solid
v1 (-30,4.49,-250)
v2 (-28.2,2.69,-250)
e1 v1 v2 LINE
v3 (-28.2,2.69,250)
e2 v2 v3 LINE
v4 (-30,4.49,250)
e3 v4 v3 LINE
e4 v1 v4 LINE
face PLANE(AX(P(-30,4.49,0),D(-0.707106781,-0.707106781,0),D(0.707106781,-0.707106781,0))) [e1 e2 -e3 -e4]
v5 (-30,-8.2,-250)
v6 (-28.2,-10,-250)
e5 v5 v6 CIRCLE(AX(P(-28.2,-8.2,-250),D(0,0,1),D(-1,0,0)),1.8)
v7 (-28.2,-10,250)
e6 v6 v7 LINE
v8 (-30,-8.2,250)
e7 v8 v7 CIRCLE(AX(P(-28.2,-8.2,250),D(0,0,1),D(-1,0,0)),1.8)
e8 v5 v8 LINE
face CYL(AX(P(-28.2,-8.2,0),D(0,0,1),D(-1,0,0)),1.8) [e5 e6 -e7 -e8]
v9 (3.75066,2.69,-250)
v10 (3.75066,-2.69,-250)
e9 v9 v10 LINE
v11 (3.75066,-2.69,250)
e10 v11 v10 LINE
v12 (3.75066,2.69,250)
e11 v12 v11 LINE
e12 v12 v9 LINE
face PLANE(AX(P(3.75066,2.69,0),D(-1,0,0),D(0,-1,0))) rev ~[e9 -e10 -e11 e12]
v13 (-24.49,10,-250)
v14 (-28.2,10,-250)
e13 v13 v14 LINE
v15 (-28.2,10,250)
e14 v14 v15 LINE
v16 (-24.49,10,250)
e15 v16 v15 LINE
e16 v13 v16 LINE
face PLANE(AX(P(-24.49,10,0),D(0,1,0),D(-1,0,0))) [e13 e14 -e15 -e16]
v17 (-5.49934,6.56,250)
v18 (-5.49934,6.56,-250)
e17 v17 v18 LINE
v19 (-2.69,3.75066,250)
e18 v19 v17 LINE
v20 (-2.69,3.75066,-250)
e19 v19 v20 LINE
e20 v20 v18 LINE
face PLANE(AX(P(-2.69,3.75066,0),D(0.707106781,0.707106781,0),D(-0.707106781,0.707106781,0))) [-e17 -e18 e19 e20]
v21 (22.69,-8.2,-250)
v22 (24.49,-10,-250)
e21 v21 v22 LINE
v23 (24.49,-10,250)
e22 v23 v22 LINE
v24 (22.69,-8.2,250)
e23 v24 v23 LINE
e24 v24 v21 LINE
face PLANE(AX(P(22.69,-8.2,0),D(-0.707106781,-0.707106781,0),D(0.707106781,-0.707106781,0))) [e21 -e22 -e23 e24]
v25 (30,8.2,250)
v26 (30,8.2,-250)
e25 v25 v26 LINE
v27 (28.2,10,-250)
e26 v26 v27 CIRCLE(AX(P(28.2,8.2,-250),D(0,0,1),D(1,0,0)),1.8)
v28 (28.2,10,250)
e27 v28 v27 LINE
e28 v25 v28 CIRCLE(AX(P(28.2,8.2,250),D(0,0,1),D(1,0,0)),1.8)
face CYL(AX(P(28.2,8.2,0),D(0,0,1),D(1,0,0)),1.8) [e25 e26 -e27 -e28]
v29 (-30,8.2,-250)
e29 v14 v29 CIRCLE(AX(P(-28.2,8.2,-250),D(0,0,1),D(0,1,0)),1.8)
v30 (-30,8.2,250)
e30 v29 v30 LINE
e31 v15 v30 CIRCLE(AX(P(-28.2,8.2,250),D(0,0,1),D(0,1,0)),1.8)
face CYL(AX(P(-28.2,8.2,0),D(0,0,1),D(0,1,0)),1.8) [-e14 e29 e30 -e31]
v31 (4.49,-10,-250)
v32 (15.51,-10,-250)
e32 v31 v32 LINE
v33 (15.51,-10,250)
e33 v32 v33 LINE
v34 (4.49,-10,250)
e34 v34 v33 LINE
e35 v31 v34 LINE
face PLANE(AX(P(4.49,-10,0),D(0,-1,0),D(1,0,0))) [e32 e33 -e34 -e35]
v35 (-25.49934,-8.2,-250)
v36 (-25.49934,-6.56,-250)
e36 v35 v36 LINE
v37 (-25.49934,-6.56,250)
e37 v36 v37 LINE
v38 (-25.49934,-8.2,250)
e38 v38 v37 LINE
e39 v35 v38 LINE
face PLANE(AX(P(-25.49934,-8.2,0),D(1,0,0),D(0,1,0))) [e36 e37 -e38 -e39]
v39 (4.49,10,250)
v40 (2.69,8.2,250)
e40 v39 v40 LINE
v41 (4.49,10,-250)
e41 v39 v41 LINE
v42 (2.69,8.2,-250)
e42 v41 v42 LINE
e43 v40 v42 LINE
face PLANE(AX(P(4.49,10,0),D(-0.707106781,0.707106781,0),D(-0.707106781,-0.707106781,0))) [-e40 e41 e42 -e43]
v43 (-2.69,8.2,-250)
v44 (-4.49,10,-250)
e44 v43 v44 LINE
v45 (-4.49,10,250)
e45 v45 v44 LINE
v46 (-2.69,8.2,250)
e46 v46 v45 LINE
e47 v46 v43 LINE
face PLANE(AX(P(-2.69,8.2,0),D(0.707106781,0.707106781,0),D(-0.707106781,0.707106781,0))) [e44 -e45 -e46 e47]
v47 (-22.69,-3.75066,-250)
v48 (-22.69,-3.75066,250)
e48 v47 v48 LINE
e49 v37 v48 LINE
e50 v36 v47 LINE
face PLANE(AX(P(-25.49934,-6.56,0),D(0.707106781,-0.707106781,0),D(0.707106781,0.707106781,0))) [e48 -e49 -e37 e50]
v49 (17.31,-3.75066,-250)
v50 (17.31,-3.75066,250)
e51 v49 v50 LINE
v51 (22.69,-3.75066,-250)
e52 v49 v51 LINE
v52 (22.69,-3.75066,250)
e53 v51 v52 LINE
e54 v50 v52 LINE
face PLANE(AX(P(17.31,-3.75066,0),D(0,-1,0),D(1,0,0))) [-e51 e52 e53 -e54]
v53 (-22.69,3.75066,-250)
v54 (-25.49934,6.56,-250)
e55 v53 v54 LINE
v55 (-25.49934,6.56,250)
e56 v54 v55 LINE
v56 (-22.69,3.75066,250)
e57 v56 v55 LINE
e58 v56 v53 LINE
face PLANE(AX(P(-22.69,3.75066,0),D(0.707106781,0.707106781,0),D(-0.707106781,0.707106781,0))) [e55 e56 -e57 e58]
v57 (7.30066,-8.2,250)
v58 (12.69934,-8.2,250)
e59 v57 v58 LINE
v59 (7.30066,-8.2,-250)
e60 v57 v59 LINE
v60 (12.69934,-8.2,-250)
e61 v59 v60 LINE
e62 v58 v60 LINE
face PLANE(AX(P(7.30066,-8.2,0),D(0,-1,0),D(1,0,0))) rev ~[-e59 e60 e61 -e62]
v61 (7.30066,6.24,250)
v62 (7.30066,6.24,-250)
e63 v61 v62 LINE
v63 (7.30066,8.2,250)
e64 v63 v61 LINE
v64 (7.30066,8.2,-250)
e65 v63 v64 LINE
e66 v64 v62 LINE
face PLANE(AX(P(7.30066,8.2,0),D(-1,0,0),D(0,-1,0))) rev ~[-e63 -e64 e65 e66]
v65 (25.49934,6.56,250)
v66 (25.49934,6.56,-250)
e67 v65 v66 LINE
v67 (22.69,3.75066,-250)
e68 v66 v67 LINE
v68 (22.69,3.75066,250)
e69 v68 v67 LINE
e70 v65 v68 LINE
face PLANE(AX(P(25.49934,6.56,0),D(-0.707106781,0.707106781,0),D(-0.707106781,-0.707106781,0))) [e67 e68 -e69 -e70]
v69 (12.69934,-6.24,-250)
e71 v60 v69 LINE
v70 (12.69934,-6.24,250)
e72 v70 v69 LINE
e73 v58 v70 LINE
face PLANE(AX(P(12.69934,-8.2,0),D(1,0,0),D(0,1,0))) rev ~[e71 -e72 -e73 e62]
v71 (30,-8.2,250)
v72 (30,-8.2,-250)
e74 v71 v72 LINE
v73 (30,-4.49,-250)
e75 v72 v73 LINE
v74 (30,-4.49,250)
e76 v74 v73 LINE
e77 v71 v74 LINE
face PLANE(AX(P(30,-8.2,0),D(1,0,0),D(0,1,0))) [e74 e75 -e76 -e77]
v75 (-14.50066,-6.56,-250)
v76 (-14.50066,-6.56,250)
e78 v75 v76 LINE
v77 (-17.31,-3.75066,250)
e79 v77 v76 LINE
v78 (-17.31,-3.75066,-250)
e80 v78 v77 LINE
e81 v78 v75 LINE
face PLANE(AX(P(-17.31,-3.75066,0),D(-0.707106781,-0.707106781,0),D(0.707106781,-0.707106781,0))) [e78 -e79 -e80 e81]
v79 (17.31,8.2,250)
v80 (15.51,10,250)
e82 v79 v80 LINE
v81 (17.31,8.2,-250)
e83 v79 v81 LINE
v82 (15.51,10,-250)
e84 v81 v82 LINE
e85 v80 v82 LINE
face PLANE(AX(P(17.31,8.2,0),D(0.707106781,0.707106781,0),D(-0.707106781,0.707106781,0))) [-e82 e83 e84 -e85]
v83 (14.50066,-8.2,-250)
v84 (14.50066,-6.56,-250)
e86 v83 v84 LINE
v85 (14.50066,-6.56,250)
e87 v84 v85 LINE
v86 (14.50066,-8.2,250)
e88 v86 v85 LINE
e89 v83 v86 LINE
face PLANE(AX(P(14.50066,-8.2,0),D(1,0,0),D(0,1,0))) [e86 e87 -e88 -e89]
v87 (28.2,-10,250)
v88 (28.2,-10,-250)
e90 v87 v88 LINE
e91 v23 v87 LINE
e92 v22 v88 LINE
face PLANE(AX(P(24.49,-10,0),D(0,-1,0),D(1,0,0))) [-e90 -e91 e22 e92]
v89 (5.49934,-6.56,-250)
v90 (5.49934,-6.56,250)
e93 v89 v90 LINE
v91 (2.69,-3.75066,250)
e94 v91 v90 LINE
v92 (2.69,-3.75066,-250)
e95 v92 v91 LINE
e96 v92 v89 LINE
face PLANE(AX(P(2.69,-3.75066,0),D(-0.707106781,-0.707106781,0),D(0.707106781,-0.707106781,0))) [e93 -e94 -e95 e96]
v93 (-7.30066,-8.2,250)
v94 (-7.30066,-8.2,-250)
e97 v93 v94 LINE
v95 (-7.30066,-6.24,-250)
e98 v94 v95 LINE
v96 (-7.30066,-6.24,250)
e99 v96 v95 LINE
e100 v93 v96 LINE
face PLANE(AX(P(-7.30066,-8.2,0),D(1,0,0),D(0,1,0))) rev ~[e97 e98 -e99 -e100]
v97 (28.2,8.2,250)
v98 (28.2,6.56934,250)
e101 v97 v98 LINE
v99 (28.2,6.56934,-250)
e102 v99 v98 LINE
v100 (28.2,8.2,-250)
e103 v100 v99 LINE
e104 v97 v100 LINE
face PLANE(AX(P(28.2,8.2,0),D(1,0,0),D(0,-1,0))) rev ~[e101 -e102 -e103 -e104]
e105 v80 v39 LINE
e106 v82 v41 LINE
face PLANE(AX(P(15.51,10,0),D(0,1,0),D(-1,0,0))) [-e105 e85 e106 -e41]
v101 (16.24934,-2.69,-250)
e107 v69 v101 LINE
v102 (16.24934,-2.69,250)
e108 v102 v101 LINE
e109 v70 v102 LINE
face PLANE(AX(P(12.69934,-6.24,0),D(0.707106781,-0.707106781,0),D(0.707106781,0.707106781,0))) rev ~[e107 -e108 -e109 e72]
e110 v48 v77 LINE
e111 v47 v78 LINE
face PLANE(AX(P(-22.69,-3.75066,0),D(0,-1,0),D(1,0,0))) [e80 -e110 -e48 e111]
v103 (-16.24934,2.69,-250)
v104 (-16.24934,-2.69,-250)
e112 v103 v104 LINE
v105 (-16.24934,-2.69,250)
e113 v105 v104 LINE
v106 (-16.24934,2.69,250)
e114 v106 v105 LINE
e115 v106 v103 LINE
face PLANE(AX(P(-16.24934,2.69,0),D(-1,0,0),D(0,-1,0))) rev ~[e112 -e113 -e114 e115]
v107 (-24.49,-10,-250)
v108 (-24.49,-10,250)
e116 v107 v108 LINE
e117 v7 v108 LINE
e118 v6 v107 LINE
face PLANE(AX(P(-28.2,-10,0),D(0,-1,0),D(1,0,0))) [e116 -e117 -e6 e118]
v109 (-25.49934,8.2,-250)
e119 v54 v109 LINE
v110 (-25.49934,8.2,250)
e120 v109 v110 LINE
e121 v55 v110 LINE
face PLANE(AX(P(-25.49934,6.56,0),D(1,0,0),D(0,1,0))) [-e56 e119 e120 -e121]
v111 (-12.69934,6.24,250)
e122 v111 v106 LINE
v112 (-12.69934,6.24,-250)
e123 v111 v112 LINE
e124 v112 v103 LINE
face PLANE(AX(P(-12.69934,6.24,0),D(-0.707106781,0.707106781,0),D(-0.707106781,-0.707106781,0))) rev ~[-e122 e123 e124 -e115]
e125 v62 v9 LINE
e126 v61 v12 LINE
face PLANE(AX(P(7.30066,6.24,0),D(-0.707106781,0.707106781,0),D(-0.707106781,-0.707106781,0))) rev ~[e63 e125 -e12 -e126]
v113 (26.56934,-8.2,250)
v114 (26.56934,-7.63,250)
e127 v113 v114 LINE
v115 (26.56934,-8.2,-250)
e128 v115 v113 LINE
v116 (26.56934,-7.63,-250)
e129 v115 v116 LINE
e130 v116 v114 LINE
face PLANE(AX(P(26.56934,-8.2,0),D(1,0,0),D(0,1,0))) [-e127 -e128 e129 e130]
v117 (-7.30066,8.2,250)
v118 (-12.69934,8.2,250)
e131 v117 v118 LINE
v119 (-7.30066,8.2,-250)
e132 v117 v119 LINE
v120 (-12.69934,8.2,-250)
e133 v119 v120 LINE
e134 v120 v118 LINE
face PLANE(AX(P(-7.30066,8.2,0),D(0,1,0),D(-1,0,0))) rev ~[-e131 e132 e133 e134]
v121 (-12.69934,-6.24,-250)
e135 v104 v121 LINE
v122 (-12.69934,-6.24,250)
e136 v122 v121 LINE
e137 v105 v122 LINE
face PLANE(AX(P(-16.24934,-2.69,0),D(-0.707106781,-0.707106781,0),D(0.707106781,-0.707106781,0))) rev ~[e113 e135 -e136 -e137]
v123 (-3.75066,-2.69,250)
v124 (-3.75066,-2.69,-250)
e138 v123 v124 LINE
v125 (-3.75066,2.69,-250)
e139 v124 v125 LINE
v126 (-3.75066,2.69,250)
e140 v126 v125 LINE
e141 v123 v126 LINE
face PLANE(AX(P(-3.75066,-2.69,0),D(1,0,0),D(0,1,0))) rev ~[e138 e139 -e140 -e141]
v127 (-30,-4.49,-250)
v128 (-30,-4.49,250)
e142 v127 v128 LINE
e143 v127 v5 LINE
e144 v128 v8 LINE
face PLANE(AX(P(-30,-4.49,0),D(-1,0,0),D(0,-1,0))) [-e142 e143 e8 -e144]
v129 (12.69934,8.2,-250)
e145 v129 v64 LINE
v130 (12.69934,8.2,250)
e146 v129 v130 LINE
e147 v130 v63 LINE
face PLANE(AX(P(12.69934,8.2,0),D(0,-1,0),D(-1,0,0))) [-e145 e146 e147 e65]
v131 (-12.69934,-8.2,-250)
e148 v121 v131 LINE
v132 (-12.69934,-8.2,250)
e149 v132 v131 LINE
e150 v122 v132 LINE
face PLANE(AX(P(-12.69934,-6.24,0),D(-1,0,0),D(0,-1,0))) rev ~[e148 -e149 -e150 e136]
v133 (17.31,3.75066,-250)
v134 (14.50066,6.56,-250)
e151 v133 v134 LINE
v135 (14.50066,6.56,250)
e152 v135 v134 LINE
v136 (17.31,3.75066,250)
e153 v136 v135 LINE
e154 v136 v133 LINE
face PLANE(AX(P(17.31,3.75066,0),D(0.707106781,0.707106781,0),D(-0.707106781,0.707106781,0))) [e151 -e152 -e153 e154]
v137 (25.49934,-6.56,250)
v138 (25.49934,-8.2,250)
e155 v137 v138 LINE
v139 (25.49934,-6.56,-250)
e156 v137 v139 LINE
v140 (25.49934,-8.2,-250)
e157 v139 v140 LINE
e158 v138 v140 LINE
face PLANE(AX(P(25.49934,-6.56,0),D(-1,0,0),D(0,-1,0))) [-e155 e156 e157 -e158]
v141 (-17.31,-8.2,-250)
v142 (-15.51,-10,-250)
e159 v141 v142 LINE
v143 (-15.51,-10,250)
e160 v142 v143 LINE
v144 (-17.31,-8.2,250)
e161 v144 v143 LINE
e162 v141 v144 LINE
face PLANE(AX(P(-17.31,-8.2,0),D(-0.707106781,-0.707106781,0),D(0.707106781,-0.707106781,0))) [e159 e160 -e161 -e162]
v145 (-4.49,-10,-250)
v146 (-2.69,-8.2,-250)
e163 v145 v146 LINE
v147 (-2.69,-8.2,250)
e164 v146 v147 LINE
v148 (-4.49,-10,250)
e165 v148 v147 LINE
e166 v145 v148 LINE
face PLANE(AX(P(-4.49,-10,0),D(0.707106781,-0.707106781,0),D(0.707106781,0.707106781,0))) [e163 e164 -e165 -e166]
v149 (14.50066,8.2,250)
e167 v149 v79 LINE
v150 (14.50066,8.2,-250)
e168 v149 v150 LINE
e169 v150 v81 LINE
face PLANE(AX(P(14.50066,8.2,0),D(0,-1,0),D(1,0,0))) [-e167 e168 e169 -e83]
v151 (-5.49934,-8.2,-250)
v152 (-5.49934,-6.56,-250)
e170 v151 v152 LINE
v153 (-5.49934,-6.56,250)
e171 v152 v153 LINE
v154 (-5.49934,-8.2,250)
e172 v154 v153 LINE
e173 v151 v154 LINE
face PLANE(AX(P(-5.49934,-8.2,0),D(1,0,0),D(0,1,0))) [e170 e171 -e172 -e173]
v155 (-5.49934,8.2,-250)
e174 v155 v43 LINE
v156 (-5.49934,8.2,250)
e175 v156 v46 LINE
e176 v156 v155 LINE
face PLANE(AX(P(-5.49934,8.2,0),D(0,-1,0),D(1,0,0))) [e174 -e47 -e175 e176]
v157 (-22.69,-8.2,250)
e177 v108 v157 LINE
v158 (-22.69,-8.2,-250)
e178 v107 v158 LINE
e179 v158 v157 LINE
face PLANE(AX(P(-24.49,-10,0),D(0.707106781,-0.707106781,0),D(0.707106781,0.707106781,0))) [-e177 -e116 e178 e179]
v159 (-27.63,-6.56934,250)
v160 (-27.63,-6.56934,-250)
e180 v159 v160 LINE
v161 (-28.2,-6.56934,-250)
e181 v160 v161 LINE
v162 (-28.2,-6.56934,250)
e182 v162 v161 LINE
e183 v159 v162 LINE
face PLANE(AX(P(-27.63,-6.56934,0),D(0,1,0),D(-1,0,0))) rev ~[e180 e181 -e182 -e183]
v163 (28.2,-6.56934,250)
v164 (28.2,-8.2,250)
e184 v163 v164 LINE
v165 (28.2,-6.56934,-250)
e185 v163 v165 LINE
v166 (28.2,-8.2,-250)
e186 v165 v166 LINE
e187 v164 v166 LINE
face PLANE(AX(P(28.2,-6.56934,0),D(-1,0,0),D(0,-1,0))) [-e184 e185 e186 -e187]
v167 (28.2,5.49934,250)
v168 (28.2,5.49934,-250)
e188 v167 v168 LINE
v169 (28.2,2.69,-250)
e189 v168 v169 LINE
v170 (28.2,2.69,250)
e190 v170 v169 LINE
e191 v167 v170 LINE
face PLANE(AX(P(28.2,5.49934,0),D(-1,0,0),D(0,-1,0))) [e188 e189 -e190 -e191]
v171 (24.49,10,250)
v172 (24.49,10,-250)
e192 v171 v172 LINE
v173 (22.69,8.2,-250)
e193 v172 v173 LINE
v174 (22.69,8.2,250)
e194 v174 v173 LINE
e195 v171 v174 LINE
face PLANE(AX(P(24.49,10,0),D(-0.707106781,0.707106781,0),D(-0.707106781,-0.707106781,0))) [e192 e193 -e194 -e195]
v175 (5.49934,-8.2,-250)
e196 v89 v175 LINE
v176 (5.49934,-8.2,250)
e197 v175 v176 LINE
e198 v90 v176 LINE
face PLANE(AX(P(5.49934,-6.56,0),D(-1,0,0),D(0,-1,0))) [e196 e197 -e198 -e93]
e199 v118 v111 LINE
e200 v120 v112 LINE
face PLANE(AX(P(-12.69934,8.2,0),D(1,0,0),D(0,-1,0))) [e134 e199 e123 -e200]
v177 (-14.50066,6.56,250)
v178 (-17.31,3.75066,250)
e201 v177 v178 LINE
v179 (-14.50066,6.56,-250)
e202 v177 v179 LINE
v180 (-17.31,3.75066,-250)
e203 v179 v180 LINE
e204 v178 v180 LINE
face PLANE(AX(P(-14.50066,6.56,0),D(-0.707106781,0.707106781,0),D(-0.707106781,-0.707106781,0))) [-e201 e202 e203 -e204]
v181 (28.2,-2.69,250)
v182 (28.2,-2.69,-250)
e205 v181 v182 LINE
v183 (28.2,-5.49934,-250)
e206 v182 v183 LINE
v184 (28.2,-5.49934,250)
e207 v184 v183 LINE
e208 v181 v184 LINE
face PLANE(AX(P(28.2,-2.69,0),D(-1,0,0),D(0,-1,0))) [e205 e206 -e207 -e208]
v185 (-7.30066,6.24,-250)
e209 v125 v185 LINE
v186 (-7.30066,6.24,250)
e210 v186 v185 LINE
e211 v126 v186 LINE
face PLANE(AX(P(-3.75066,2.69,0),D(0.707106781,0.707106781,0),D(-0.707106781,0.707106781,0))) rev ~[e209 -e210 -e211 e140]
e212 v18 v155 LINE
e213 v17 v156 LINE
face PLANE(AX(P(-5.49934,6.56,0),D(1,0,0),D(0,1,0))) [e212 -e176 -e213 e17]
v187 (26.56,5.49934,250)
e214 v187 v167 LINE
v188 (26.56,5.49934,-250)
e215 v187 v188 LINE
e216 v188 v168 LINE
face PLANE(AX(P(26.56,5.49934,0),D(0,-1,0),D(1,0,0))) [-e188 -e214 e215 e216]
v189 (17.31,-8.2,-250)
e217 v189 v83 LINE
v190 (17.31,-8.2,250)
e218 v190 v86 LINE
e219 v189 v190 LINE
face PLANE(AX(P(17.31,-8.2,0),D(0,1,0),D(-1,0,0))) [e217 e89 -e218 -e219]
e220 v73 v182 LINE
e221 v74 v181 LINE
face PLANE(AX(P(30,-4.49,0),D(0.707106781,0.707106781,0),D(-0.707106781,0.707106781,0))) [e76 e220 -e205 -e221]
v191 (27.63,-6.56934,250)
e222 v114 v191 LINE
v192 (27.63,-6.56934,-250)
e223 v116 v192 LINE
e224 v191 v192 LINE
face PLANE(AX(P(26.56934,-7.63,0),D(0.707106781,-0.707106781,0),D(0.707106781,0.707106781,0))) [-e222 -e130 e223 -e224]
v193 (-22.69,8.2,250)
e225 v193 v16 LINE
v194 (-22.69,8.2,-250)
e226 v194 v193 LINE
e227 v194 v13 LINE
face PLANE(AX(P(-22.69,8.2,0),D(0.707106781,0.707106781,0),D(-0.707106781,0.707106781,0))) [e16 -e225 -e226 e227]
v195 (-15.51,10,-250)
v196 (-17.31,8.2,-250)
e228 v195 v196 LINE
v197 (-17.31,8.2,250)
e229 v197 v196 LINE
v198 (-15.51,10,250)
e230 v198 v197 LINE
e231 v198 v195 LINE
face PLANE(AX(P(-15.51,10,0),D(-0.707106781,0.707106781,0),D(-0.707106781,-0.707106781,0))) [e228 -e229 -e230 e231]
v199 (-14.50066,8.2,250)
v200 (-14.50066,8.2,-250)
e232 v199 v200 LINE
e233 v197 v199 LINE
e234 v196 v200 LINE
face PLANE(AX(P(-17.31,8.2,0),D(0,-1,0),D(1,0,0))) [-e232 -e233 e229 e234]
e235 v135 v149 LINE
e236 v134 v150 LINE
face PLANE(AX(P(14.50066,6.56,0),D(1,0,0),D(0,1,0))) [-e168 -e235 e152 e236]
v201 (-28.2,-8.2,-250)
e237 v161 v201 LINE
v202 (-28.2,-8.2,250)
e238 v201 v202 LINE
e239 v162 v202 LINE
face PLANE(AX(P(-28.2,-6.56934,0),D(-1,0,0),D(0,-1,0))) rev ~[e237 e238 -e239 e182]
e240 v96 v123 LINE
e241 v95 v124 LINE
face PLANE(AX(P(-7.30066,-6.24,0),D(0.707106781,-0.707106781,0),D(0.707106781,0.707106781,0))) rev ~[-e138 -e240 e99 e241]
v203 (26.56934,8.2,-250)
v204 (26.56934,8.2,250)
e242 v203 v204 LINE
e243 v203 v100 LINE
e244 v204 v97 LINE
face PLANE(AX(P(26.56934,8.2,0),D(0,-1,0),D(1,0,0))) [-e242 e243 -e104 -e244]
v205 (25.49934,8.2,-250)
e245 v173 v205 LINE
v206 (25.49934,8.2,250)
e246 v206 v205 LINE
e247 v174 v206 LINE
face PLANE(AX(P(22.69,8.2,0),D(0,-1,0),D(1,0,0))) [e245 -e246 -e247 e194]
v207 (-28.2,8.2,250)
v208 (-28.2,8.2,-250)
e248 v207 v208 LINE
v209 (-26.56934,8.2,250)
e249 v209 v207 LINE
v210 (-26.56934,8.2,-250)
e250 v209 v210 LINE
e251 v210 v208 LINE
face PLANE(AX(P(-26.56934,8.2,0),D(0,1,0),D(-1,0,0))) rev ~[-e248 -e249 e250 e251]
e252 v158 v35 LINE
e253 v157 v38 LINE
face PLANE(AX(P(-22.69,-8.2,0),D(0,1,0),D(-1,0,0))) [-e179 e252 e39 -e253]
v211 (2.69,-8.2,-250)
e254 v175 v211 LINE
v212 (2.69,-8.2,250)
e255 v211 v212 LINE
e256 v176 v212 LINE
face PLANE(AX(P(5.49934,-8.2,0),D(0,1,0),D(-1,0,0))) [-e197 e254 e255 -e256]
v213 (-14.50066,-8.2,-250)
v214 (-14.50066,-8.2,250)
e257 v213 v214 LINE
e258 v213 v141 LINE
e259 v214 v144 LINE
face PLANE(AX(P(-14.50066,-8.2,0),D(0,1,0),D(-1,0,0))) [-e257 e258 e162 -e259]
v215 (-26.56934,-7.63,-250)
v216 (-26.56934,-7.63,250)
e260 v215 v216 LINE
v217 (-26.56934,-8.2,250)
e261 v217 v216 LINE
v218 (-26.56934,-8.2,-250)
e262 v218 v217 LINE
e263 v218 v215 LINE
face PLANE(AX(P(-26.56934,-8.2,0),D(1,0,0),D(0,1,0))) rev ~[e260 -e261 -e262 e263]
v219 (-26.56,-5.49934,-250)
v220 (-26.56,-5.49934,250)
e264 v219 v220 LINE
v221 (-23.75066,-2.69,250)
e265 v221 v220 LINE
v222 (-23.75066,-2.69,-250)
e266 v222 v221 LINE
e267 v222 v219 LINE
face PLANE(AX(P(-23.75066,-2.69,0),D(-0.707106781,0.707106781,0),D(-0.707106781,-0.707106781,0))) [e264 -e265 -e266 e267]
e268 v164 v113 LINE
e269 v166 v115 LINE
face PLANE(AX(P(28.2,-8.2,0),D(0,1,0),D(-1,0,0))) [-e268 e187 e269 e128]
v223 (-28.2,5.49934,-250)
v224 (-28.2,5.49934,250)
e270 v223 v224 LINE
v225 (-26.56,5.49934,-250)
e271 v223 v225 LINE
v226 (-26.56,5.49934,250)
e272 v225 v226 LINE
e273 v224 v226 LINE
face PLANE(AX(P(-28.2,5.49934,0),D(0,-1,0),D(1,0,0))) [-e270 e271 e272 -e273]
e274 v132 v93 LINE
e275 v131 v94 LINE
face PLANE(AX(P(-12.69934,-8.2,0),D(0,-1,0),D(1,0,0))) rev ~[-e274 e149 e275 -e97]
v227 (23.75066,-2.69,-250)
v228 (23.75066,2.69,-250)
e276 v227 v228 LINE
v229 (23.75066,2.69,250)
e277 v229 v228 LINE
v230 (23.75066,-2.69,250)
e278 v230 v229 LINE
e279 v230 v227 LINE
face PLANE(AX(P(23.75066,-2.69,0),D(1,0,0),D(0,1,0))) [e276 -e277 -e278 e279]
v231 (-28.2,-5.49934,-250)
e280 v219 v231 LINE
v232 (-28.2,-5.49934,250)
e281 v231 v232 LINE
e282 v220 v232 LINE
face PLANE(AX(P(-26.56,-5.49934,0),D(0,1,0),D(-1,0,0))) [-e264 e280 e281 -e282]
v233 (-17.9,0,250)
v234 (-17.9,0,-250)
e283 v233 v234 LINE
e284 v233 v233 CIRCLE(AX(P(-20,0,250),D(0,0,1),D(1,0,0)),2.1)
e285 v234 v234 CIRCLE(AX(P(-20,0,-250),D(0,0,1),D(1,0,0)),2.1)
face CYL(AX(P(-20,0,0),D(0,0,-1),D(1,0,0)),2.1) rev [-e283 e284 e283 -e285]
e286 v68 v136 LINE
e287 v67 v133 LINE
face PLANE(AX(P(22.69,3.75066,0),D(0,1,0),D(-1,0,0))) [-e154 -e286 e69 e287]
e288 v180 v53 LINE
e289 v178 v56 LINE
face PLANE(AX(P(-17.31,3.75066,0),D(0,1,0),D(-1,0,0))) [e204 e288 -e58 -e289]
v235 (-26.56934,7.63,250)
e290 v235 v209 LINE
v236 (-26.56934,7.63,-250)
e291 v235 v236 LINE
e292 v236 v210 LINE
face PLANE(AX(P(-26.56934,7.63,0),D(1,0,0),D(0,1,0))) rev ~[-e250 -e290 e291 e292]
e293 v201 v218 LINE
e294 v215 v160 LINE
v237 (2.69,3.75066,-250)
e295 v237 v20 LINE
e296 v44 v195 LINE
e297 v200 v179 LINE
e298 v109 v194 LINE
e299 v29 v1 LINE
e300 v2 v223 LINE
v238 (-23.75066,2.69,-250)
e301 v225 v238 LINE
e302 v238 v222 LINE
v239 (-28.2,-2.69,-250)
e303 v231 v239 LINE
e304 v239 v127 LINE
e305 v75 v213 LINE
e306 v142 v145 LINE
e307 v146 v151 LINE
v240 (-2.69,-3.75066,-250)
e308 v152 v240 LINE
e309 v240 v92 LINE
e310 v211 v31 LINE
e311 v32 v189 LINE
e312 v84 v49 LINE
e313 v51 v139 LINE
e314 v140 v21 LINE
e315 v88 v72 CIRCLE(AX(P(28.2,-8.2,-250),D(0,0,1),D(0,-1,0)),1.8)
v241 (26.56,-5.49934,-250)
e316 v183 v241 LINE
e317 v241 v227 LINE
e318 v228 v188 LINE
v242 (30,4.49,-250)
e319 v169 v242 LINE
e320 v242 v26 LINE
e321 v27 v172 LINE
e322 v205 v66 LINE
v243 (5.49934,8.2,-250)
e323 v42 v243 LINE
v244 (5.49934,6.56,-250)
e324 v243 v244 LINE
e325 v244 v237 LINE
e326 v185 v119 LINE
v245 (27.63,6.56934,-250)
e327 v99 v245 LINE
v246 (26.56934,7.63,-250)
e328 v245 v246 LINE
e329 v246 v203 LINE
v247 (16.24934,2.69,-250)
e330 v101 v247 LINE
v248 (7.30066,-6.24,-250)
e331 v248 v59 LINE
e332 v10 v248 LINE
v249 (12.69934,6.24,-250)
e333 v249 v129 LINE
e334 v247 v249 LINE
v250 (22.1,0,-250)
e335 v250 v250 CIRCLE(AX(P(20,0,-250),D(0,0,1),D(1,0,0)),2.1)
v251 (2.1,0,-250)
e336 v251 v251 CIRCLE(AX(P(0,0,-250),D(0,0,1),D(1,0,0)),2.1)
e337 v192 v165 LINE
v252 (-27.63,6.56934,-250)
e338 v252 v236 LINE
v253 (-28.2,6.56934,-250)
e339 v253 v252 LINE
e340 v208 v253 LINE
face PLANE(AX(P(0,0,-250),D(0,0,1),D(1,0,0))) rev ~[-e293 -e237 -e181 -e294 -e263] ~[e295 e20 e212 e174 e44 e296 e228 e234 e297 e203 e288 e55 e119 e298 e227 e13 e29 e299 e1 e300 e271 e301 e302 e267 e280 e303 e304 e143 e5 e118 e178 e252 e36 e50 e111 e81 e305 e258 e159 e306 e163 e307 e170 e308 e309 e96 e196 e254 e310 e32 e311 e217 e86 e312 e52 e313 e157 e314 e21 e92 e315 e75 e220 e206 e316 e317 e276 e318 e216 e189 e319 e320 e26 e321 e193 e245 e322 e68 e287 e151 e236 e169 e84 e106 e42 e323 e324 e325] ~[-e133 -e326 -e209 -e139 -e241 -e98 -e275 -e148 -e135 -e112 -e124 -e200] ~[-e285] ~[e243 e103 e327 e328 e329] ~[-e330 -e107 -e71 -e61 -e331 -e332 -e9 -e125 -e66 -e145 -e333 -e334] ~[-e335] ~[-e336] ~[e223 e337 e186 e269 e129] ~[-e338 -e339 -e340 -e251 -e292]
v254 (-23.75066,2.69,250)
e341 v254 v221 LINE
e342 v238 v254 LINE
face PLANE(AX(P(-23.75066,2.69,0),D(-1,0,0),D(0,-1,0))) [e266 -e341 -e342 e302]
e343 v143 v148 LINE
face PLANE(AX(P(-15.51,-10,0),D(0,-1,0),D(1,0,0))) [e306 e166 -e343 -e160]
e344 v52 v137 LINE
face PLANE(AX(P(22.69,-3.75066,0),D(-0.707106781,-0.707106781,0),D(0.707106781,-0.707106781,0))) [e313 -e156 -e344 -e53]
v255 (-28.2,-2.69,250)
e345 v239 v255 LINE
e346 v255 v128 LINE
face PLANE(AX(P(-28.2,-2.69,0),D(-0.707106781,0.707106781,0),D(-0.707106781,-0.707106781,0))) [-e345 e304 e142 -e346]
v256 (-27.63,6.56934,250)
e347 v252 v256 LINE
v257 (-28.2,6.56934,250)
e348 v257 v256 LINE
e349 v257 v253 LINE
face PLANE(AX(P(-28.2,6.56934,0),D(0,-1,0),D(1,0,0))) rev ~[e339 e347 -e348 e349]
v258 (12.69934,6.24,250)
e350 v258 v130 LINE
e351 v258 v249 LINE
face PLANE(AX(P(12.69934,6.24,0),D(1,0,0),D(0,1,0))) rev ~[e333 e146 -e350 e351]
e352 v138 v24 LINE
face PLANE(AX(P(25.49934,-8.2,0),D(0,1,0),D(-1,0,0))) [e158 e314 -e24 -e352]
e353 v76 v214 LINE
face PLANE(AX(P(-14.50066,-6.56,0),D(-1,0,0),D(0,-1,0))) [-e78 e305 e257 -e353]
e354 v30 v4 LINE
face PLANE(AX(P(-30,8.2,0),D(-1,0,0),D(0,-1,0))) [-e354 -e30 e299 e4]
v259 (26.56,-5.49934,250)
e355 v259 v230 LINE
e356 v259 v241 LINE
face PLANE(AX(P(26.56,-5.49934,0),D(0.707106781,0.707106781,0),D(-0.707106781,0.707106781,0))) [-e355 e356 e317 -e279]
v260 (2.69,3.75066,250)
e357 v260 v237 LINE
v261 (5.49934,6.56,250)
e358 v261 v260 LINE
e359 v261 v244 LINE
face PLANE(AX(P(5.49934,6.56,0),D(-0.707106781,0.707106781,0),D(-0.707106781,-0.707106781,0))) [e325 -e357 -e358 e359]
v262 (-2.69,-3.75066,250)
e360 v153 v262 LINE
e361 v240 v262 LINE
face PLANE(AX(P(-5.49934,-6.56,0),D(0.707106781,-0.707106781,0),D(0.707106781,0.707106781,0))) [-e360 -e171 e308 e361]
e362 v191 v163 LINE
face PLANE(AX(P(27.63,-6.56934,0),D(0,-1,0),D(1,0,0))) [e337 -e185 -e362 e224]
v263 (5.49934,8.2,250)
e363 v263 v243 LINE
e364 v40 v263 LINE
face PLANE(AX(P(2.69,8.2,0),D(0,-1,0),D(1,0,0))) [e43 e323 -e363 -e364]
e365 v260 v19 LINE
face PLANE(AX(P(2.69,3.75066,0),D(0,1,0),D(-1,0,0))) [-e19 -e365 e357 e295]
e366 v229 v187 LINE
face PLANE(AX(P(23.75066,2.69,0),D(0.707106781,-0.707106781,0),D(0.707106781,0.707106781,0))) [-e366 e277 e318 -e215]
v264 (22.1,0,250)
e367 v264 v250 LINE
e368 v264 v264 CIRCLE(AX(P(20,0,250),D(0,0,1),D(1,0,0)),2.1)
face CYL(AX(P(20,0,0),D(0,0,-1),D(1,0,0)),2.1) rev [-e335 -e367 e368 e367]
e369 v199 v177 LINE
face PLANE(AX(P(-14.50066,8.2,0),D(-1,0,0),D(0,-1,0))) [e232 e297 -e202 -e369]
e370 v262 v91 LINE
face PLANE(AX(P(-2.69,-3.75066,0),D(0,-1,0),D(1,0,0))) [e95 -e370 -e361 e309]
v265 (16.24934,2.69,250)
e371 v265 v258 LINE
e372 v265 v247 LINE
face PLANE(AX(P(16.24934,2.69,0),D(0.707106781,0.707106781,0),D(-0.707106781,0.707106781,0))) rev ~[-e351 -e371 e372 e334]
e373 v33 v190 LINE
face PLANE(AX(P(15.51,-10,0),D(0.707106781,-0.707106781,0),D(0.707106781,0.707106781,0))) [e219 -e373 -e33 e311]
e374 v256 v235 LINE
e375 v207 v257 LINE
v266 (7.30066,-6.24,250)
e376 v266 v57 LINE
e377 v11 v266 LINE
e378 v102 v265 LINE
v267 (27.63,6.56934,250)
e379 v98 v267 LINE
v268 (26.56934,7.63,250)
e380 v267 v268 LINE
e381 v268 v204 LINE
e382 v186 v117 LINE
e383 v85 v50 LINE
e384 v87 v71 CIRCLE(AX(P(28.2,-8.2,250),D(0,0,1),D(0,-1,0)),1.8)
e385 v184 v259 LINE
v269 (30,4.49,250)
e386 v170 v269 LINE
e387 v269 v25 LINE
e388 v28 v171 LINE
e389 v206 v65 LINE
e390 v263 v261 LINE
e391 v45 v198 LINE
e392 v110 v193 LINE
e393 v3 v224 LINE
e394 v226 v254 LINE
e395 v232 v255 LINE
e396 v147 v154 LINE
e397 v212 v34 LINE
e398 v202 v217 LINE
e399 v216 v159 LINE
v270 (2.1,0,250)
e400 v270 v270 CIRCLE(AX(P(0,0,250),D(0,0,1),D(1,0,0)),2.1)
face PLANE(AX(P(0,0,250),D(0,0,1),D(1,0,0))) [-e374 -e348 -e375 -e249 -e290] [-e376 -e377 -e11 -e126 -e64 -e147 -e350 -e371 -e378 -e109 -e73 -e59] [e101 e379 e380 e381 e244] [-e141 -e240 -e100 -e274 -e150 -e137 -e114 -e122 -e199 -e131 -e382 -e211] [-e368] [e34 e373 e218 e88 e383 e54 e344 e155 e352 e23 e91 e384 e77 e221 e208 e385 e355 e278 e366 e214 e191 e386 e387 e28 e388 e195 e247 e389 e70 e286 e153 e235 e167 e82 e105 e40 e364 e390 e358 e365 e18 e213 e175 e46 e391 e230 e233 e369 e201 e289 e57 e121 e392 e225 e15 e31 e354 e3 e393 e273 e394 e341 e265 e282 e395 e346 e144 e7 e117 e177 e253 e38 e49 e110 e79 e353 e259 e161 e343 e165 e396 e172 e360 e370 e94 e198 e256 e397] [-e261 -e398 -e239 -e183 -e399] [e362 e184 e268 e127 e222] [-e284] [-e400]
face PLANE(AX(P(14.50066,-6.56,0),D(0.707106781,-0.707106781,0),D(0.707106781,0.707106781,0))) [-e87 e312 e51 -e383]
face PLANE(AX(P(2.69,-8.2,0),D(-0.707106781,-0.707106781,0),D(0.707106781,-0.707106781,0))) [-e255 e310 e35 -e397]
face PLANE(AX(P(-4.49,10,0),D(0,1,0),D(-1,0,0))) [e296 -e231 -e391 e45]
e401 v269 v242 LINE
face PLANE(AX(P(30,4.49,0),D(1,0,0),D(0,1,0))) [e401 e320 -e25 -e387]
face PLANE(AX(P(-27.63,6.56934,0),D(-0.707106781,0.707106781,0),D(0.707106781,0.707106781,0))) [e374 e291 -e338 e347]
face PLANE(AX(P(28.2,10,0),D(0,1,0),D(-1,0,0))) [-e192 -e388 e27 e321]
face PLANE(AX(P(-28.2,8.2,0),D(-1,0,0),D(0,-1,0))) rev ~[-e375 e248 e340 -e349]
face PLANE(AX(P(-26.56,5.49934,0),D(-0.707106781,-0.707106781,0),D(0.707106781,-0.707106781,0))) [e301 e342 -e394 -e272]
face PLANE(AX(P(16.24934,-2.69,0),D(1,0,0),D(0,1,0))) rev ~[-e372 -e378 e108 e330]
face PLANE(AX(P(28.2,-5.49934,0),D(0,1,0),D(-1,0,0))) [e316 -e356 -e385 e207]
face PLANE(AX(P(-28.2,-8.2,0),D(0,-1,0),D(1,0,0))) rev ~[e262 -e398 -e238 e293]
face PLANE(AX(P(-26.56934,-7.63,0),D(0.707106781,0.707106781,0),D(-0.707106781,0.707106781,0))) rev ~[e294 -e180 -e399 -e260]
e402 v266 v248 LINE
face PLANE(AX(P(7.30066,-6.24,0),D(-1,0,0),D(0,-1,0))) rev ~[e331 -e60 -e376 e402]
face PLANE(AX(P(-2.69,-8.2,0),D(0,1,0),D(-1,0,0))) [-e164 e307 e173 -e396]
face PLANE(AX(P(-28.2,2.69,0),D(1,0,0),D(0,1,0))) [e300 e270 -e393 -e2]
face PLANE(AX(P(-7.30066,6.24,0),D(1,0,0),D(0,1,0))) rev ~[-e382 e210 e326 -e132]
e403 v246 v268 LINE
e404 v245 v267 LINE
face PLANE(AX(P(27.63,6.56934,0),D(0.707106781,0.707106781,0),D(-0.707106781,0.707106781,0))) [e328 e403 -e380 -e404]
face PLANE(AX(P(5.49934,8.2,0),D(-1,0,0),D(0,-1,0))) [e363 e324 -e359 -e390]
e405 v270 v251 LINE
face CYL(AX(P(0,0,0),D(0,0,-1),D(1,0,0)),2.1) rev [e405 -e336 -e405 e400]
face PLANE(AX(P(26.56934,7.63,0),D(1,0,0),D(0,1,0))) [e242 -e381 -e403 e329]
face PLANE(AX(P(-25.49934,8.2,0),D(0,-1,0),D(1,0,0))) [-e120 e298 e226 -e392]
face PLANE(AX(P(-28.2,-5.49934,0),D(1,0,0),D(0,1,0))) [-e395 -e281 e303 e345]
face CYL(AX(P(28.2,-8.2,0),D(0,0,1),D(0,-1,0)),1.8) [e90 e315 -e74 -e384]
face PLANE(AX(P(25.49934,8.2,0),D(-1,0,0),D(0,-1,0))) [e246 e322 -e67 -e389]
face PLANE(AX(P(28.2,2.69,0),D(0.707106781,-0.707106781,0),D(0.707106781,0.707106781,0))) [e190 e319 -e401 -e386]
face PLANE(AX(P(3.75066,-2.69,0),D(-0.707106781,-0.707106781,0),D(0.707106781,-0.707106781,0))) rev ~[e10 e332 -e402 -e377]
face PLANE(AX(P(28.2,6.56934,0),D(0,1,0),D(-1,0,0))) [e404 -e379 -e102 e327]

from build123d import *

# Parameters (mm, degrees)
ESQUISSE1_R        = 2.1
BOSS_EXTRU_1_DEPTH = 250


with BuildPart() as part:
    # Esquisse1 → Boss.-Extru.1 (new, symmetric)
    with BuildSketch(Plane.XY):
        with BuildLine():
            Line((-20, 3.750660172), (-22.69, 3.750660172))
            Line((-22.69, 3.750660172), (-25.499339828, 6.56))
            Line((-25.499339828, 6.56), (-25.499339828, 8.2))
            Line((-25.499339828, 8.2), (-22.69, 8.2))
            Line((-22.69, 8.2), (-24.49, 10))
            Line((-24.49, 10), (-28.2, 10))
            ThreePointArc((-28.2, 10), (-29.472792206, 9.472792206), (-30, 8.2))
            Line((-30, 8.2), (-30, 4.49))
            Line((-30, 4.49), (-28.2, 2.69))
            Line((-28.2, 2.69), (-28.2, 5.499339828))
            Line((-28.2, 5.499339828), (-26.56, 5.499339828))
            Line((-26.56, 5.499339828), (-23.750660172, 2.69))
            Line((-23.750660172, 2.69), (-23.750660172, 0))
            Line((-23.750660172, 0), (-23.750660172, -2.69))
            Line((-23.750660172, -2.69), (-26.56, -5.499339828))
            Line((-26.56, -5.499339828), (-28.2, -5.499339828))
            Line((-28.2, -5.499339828), (-28.2, -2.69))
            Line((-28.2, -2.69), (-30, -4.49))
            Line((-30, -4.49), (-30, -8.2))
            ThreePointArc((-30, -8.2), (-29.472792206, -9.472792206), (-28.2, -10))
            Line((-28.2, -10), (-24.49, -10))
            Line((-24.49, -10), (-22.69, -8.2))
            Line((-22.69, -8.2), (-25.499339828, -8.2))
            Line((-25.499339828, -8.2), (-25.499339828, -6.56))
            Line((-25.499339828, -6.56), (-22.69, -3.750660172))
            Line((-22.69, -3.750660172), (-20, -3.750660172))
            Line((-20, -3.750660172), (-17.31, -3.750660172))
            Line((-17.31, -3.750660172), (-14.500660172, -6.56))
            Line((-14.500660172, -6.56), (-14.500660172, -8.2))
            Line((-14.500660172, -8.2), (-17.31, -8.2))
            Line((-17.31, -8.2), (-15.51, -10))
            Line((-15.51, -10), (-4.49, -10))
            Line((-4.49, -10), (-2.69, -8.2))
            Line((-2.69, -8.2), (-5.499339828, -8.2))
            Line((-5.499339828, -8.2), (-5.499339828, -6.56))
            Line((-5.499339828, -6.56), (-2.69, -3.750660172))
            Line((-2.69, -3.750660172), (2.69, -3.750660172))
            Line((2.69, -3.750660172), (5.499339828, -6.56))
            Line((5.499339828, -6.56), (5.499339828, -8.2))
            Line((5.499339828, -8.2), (2.69, -8.2))
            Line((2.69, -8.2), (4.49, -10))
            Line((4.49, -10), (15.51, -10))
            Line((15.51, -10), (17.31, -8.2))
            Line((17.31, -8.2), (14.500660172, -8.2))
            Line((14.500660172, -8.2), (14.500660172, -6.56))
            Line((14.500660172, -6.56), (17.31, -3.750660172))
            Line((17.31, -3.750660172), (20, -3.750660172))
            Line((20, -3.750660172), (22.69, -3.750660172))
            Line((22.69, -3.750660172), (25.499339828, -6.56))
            Line((25.499339828, -6.56), (25.499339828, -8.2))
            Line((25.499339828, -8.2), (22.69, -8.2))
            Line((22.69, -8.2), (24.49, -10))
            Line((24.49, -10), (28.2, -10))
            ThreePointArc((28.2, -10), (29.472792206, -9.472792206), (30, -8.2))
            Line((30, -8.2), (30, -4.49))
            Line((30, -4.49), (28.2, -2.69))
            Line((28.2, -2.69), (28.2, -5.499339828))
            Line((28.2, -5.499339828), (26.56, -5.499339828))
            Line((26.56, -5.499339828), (23.750660172, -2.69))
            Line((23.750660172, -2.69), (23.750660172, 0))
            Line((23.750660172, 0), (23.750660172, 2.69))
            Line((23.750660172, 2.69), (26.56, 5.499339828))
            Line((26.56, 5.499339828), (28.2, 5.499339828))
            Line((28.2, 5.499339828), (28.2, 2.69))
            Line((28.2, 2.69), (30, 4.49))
            Line((30, 4.49), (30, 8.2))
            ThreePointArc((30, 8.2), (29.472792206, 9.472792206), (28.2, 10))
            Line((28.2, 10), (24.49, 10))
            Line((24.49, 10), (22.69, 8.2))
            Line((22.69, 8.2), (25.499339828, 8.2))
            Line((25.499339828, 8.2), (25.499339828, 6.56))
            Line((25.499339828, 6.56), (22.69, 3.750660172))
            Line((22.69, 3.750660172), (20, 3.750660172))
            Line((20, 3.750660172), (17.31, 3.750660172))
            Line((17.31, 3.750660172), (14.500660172, 6.56))
            Line((14.500660172, 6.56), (14.500660172, 8.2))
            Line((14.500660172, 8.2), (17.31, 8.2))
            Line((17.31, 8.2), (15.51, 10))
            Line((15.51, 10), (4.49, 10))
            Line((4.49, 10), (2.69, 8.2))
            Line((2.69, 8.2), (5.499339828, 8.2))
            Line((5.499339828, 8.2), (5.499339828, 6.56))
            Line((5.499339828, 6.56), (2.69, 3.750660172))
            Line((2.69, 3.750660172), (-2.69, 3.750660172))
            Line((-2.69, 3.750660172), (-5.499339828, 6.56))
            Line((-5.499339828, 6.56), (-5.499339828, 8.2))
            Line((-5.499339828, 8.2), (-2.69, 8.2))
            Line((-2.69, 8.2), (-4.49, 10))
            Line((-4.49, 10), (-15.51, 10))
            Line((-15.51, 10), (-17.31, 8.2))
            Line((-17.31, 8.2), (-14.500660172, 8.2))
            Line((-14.500660172, 8.2), (-14.500660172, 6.56))
            Line((-14.500660172, 6.56), (-17.31, 3.750660172))
            Line((-17.31, 3.750660172), (-20, 3.750660172))
        make_face()
        Circle(ESQUISSE1_R, mode=Mode.SUBTRACT)
        with Locations((-20, 0)):
            Circle(ESQUISSE1_R, mode=Mode.SUBTRACT)
        with Locations((20, 0)):
            Circle(ESQUISSE1_R, mode=Mode.SUBTRACT)
        Polygon((-28.2, 8.2), (-28.2, 6.569339828), (-27.63, 6.569339828), (-26.569339828, 7.63), (-26.569339828, 8.2), align=None, mode=Mode.SUBTRACT)
        Polygon((-26.569339828, -7.63), (-27.63, -6.569339828), (-28.2, -6.569339828), (-28.2, -8.2), (-26.569339828, -8.2), align=None, mode=Mode.SUBTRACT)
        Polygon((-7.300660172, -8.2), (-7.300660172, -6.24), (-3.750660172, -2.69), (-3.750660172, 2.69), (-7.300660172, 6.24), (-7.300660172, 8.2), (-12.699339828, 8.2), (-12.699339828, 6.24), (-16.249339828, 2.69), (-16.249339828, -2.69), (-12.699339828, -6.24), (-12.699339828, -8.2), align=None, mode=Mode.SUBTRACT)
        Polygon((26.569339828, 8.2), (28.2, 8.2), (28.2, 6.569339828), (27.63, 6.569339828), (26.569339828, 7.63), align=None, mode=Mode.SUBTRACT)
        Polygon((26.569339828, -8.2), (26.569339828, -7.63), (27.63, -6.569339828), (28.2, -6.569339828), (28.2, -8.2), align=None, mode=Mode.SUBTRACT)
        Polygon((7.300660172, 8.2), (7.300660172, 6.24), (3.750660172, 2.69), (3.750660172, -2.69), (7.300660172, -6.24), (7.300660172, -8.2), (12.699339828, -8.2), (12.699339828, -6.24), (16.249339828, -2.69), (16.249339828, 2.69), (12.699339828, 6.24), (12.699339828, 8.2), align=None, mode=Mode.SUBTRACT)
    extrude(amount=BOSS_EXTRU_1_DEPTH, both=True)


solid = part.part
